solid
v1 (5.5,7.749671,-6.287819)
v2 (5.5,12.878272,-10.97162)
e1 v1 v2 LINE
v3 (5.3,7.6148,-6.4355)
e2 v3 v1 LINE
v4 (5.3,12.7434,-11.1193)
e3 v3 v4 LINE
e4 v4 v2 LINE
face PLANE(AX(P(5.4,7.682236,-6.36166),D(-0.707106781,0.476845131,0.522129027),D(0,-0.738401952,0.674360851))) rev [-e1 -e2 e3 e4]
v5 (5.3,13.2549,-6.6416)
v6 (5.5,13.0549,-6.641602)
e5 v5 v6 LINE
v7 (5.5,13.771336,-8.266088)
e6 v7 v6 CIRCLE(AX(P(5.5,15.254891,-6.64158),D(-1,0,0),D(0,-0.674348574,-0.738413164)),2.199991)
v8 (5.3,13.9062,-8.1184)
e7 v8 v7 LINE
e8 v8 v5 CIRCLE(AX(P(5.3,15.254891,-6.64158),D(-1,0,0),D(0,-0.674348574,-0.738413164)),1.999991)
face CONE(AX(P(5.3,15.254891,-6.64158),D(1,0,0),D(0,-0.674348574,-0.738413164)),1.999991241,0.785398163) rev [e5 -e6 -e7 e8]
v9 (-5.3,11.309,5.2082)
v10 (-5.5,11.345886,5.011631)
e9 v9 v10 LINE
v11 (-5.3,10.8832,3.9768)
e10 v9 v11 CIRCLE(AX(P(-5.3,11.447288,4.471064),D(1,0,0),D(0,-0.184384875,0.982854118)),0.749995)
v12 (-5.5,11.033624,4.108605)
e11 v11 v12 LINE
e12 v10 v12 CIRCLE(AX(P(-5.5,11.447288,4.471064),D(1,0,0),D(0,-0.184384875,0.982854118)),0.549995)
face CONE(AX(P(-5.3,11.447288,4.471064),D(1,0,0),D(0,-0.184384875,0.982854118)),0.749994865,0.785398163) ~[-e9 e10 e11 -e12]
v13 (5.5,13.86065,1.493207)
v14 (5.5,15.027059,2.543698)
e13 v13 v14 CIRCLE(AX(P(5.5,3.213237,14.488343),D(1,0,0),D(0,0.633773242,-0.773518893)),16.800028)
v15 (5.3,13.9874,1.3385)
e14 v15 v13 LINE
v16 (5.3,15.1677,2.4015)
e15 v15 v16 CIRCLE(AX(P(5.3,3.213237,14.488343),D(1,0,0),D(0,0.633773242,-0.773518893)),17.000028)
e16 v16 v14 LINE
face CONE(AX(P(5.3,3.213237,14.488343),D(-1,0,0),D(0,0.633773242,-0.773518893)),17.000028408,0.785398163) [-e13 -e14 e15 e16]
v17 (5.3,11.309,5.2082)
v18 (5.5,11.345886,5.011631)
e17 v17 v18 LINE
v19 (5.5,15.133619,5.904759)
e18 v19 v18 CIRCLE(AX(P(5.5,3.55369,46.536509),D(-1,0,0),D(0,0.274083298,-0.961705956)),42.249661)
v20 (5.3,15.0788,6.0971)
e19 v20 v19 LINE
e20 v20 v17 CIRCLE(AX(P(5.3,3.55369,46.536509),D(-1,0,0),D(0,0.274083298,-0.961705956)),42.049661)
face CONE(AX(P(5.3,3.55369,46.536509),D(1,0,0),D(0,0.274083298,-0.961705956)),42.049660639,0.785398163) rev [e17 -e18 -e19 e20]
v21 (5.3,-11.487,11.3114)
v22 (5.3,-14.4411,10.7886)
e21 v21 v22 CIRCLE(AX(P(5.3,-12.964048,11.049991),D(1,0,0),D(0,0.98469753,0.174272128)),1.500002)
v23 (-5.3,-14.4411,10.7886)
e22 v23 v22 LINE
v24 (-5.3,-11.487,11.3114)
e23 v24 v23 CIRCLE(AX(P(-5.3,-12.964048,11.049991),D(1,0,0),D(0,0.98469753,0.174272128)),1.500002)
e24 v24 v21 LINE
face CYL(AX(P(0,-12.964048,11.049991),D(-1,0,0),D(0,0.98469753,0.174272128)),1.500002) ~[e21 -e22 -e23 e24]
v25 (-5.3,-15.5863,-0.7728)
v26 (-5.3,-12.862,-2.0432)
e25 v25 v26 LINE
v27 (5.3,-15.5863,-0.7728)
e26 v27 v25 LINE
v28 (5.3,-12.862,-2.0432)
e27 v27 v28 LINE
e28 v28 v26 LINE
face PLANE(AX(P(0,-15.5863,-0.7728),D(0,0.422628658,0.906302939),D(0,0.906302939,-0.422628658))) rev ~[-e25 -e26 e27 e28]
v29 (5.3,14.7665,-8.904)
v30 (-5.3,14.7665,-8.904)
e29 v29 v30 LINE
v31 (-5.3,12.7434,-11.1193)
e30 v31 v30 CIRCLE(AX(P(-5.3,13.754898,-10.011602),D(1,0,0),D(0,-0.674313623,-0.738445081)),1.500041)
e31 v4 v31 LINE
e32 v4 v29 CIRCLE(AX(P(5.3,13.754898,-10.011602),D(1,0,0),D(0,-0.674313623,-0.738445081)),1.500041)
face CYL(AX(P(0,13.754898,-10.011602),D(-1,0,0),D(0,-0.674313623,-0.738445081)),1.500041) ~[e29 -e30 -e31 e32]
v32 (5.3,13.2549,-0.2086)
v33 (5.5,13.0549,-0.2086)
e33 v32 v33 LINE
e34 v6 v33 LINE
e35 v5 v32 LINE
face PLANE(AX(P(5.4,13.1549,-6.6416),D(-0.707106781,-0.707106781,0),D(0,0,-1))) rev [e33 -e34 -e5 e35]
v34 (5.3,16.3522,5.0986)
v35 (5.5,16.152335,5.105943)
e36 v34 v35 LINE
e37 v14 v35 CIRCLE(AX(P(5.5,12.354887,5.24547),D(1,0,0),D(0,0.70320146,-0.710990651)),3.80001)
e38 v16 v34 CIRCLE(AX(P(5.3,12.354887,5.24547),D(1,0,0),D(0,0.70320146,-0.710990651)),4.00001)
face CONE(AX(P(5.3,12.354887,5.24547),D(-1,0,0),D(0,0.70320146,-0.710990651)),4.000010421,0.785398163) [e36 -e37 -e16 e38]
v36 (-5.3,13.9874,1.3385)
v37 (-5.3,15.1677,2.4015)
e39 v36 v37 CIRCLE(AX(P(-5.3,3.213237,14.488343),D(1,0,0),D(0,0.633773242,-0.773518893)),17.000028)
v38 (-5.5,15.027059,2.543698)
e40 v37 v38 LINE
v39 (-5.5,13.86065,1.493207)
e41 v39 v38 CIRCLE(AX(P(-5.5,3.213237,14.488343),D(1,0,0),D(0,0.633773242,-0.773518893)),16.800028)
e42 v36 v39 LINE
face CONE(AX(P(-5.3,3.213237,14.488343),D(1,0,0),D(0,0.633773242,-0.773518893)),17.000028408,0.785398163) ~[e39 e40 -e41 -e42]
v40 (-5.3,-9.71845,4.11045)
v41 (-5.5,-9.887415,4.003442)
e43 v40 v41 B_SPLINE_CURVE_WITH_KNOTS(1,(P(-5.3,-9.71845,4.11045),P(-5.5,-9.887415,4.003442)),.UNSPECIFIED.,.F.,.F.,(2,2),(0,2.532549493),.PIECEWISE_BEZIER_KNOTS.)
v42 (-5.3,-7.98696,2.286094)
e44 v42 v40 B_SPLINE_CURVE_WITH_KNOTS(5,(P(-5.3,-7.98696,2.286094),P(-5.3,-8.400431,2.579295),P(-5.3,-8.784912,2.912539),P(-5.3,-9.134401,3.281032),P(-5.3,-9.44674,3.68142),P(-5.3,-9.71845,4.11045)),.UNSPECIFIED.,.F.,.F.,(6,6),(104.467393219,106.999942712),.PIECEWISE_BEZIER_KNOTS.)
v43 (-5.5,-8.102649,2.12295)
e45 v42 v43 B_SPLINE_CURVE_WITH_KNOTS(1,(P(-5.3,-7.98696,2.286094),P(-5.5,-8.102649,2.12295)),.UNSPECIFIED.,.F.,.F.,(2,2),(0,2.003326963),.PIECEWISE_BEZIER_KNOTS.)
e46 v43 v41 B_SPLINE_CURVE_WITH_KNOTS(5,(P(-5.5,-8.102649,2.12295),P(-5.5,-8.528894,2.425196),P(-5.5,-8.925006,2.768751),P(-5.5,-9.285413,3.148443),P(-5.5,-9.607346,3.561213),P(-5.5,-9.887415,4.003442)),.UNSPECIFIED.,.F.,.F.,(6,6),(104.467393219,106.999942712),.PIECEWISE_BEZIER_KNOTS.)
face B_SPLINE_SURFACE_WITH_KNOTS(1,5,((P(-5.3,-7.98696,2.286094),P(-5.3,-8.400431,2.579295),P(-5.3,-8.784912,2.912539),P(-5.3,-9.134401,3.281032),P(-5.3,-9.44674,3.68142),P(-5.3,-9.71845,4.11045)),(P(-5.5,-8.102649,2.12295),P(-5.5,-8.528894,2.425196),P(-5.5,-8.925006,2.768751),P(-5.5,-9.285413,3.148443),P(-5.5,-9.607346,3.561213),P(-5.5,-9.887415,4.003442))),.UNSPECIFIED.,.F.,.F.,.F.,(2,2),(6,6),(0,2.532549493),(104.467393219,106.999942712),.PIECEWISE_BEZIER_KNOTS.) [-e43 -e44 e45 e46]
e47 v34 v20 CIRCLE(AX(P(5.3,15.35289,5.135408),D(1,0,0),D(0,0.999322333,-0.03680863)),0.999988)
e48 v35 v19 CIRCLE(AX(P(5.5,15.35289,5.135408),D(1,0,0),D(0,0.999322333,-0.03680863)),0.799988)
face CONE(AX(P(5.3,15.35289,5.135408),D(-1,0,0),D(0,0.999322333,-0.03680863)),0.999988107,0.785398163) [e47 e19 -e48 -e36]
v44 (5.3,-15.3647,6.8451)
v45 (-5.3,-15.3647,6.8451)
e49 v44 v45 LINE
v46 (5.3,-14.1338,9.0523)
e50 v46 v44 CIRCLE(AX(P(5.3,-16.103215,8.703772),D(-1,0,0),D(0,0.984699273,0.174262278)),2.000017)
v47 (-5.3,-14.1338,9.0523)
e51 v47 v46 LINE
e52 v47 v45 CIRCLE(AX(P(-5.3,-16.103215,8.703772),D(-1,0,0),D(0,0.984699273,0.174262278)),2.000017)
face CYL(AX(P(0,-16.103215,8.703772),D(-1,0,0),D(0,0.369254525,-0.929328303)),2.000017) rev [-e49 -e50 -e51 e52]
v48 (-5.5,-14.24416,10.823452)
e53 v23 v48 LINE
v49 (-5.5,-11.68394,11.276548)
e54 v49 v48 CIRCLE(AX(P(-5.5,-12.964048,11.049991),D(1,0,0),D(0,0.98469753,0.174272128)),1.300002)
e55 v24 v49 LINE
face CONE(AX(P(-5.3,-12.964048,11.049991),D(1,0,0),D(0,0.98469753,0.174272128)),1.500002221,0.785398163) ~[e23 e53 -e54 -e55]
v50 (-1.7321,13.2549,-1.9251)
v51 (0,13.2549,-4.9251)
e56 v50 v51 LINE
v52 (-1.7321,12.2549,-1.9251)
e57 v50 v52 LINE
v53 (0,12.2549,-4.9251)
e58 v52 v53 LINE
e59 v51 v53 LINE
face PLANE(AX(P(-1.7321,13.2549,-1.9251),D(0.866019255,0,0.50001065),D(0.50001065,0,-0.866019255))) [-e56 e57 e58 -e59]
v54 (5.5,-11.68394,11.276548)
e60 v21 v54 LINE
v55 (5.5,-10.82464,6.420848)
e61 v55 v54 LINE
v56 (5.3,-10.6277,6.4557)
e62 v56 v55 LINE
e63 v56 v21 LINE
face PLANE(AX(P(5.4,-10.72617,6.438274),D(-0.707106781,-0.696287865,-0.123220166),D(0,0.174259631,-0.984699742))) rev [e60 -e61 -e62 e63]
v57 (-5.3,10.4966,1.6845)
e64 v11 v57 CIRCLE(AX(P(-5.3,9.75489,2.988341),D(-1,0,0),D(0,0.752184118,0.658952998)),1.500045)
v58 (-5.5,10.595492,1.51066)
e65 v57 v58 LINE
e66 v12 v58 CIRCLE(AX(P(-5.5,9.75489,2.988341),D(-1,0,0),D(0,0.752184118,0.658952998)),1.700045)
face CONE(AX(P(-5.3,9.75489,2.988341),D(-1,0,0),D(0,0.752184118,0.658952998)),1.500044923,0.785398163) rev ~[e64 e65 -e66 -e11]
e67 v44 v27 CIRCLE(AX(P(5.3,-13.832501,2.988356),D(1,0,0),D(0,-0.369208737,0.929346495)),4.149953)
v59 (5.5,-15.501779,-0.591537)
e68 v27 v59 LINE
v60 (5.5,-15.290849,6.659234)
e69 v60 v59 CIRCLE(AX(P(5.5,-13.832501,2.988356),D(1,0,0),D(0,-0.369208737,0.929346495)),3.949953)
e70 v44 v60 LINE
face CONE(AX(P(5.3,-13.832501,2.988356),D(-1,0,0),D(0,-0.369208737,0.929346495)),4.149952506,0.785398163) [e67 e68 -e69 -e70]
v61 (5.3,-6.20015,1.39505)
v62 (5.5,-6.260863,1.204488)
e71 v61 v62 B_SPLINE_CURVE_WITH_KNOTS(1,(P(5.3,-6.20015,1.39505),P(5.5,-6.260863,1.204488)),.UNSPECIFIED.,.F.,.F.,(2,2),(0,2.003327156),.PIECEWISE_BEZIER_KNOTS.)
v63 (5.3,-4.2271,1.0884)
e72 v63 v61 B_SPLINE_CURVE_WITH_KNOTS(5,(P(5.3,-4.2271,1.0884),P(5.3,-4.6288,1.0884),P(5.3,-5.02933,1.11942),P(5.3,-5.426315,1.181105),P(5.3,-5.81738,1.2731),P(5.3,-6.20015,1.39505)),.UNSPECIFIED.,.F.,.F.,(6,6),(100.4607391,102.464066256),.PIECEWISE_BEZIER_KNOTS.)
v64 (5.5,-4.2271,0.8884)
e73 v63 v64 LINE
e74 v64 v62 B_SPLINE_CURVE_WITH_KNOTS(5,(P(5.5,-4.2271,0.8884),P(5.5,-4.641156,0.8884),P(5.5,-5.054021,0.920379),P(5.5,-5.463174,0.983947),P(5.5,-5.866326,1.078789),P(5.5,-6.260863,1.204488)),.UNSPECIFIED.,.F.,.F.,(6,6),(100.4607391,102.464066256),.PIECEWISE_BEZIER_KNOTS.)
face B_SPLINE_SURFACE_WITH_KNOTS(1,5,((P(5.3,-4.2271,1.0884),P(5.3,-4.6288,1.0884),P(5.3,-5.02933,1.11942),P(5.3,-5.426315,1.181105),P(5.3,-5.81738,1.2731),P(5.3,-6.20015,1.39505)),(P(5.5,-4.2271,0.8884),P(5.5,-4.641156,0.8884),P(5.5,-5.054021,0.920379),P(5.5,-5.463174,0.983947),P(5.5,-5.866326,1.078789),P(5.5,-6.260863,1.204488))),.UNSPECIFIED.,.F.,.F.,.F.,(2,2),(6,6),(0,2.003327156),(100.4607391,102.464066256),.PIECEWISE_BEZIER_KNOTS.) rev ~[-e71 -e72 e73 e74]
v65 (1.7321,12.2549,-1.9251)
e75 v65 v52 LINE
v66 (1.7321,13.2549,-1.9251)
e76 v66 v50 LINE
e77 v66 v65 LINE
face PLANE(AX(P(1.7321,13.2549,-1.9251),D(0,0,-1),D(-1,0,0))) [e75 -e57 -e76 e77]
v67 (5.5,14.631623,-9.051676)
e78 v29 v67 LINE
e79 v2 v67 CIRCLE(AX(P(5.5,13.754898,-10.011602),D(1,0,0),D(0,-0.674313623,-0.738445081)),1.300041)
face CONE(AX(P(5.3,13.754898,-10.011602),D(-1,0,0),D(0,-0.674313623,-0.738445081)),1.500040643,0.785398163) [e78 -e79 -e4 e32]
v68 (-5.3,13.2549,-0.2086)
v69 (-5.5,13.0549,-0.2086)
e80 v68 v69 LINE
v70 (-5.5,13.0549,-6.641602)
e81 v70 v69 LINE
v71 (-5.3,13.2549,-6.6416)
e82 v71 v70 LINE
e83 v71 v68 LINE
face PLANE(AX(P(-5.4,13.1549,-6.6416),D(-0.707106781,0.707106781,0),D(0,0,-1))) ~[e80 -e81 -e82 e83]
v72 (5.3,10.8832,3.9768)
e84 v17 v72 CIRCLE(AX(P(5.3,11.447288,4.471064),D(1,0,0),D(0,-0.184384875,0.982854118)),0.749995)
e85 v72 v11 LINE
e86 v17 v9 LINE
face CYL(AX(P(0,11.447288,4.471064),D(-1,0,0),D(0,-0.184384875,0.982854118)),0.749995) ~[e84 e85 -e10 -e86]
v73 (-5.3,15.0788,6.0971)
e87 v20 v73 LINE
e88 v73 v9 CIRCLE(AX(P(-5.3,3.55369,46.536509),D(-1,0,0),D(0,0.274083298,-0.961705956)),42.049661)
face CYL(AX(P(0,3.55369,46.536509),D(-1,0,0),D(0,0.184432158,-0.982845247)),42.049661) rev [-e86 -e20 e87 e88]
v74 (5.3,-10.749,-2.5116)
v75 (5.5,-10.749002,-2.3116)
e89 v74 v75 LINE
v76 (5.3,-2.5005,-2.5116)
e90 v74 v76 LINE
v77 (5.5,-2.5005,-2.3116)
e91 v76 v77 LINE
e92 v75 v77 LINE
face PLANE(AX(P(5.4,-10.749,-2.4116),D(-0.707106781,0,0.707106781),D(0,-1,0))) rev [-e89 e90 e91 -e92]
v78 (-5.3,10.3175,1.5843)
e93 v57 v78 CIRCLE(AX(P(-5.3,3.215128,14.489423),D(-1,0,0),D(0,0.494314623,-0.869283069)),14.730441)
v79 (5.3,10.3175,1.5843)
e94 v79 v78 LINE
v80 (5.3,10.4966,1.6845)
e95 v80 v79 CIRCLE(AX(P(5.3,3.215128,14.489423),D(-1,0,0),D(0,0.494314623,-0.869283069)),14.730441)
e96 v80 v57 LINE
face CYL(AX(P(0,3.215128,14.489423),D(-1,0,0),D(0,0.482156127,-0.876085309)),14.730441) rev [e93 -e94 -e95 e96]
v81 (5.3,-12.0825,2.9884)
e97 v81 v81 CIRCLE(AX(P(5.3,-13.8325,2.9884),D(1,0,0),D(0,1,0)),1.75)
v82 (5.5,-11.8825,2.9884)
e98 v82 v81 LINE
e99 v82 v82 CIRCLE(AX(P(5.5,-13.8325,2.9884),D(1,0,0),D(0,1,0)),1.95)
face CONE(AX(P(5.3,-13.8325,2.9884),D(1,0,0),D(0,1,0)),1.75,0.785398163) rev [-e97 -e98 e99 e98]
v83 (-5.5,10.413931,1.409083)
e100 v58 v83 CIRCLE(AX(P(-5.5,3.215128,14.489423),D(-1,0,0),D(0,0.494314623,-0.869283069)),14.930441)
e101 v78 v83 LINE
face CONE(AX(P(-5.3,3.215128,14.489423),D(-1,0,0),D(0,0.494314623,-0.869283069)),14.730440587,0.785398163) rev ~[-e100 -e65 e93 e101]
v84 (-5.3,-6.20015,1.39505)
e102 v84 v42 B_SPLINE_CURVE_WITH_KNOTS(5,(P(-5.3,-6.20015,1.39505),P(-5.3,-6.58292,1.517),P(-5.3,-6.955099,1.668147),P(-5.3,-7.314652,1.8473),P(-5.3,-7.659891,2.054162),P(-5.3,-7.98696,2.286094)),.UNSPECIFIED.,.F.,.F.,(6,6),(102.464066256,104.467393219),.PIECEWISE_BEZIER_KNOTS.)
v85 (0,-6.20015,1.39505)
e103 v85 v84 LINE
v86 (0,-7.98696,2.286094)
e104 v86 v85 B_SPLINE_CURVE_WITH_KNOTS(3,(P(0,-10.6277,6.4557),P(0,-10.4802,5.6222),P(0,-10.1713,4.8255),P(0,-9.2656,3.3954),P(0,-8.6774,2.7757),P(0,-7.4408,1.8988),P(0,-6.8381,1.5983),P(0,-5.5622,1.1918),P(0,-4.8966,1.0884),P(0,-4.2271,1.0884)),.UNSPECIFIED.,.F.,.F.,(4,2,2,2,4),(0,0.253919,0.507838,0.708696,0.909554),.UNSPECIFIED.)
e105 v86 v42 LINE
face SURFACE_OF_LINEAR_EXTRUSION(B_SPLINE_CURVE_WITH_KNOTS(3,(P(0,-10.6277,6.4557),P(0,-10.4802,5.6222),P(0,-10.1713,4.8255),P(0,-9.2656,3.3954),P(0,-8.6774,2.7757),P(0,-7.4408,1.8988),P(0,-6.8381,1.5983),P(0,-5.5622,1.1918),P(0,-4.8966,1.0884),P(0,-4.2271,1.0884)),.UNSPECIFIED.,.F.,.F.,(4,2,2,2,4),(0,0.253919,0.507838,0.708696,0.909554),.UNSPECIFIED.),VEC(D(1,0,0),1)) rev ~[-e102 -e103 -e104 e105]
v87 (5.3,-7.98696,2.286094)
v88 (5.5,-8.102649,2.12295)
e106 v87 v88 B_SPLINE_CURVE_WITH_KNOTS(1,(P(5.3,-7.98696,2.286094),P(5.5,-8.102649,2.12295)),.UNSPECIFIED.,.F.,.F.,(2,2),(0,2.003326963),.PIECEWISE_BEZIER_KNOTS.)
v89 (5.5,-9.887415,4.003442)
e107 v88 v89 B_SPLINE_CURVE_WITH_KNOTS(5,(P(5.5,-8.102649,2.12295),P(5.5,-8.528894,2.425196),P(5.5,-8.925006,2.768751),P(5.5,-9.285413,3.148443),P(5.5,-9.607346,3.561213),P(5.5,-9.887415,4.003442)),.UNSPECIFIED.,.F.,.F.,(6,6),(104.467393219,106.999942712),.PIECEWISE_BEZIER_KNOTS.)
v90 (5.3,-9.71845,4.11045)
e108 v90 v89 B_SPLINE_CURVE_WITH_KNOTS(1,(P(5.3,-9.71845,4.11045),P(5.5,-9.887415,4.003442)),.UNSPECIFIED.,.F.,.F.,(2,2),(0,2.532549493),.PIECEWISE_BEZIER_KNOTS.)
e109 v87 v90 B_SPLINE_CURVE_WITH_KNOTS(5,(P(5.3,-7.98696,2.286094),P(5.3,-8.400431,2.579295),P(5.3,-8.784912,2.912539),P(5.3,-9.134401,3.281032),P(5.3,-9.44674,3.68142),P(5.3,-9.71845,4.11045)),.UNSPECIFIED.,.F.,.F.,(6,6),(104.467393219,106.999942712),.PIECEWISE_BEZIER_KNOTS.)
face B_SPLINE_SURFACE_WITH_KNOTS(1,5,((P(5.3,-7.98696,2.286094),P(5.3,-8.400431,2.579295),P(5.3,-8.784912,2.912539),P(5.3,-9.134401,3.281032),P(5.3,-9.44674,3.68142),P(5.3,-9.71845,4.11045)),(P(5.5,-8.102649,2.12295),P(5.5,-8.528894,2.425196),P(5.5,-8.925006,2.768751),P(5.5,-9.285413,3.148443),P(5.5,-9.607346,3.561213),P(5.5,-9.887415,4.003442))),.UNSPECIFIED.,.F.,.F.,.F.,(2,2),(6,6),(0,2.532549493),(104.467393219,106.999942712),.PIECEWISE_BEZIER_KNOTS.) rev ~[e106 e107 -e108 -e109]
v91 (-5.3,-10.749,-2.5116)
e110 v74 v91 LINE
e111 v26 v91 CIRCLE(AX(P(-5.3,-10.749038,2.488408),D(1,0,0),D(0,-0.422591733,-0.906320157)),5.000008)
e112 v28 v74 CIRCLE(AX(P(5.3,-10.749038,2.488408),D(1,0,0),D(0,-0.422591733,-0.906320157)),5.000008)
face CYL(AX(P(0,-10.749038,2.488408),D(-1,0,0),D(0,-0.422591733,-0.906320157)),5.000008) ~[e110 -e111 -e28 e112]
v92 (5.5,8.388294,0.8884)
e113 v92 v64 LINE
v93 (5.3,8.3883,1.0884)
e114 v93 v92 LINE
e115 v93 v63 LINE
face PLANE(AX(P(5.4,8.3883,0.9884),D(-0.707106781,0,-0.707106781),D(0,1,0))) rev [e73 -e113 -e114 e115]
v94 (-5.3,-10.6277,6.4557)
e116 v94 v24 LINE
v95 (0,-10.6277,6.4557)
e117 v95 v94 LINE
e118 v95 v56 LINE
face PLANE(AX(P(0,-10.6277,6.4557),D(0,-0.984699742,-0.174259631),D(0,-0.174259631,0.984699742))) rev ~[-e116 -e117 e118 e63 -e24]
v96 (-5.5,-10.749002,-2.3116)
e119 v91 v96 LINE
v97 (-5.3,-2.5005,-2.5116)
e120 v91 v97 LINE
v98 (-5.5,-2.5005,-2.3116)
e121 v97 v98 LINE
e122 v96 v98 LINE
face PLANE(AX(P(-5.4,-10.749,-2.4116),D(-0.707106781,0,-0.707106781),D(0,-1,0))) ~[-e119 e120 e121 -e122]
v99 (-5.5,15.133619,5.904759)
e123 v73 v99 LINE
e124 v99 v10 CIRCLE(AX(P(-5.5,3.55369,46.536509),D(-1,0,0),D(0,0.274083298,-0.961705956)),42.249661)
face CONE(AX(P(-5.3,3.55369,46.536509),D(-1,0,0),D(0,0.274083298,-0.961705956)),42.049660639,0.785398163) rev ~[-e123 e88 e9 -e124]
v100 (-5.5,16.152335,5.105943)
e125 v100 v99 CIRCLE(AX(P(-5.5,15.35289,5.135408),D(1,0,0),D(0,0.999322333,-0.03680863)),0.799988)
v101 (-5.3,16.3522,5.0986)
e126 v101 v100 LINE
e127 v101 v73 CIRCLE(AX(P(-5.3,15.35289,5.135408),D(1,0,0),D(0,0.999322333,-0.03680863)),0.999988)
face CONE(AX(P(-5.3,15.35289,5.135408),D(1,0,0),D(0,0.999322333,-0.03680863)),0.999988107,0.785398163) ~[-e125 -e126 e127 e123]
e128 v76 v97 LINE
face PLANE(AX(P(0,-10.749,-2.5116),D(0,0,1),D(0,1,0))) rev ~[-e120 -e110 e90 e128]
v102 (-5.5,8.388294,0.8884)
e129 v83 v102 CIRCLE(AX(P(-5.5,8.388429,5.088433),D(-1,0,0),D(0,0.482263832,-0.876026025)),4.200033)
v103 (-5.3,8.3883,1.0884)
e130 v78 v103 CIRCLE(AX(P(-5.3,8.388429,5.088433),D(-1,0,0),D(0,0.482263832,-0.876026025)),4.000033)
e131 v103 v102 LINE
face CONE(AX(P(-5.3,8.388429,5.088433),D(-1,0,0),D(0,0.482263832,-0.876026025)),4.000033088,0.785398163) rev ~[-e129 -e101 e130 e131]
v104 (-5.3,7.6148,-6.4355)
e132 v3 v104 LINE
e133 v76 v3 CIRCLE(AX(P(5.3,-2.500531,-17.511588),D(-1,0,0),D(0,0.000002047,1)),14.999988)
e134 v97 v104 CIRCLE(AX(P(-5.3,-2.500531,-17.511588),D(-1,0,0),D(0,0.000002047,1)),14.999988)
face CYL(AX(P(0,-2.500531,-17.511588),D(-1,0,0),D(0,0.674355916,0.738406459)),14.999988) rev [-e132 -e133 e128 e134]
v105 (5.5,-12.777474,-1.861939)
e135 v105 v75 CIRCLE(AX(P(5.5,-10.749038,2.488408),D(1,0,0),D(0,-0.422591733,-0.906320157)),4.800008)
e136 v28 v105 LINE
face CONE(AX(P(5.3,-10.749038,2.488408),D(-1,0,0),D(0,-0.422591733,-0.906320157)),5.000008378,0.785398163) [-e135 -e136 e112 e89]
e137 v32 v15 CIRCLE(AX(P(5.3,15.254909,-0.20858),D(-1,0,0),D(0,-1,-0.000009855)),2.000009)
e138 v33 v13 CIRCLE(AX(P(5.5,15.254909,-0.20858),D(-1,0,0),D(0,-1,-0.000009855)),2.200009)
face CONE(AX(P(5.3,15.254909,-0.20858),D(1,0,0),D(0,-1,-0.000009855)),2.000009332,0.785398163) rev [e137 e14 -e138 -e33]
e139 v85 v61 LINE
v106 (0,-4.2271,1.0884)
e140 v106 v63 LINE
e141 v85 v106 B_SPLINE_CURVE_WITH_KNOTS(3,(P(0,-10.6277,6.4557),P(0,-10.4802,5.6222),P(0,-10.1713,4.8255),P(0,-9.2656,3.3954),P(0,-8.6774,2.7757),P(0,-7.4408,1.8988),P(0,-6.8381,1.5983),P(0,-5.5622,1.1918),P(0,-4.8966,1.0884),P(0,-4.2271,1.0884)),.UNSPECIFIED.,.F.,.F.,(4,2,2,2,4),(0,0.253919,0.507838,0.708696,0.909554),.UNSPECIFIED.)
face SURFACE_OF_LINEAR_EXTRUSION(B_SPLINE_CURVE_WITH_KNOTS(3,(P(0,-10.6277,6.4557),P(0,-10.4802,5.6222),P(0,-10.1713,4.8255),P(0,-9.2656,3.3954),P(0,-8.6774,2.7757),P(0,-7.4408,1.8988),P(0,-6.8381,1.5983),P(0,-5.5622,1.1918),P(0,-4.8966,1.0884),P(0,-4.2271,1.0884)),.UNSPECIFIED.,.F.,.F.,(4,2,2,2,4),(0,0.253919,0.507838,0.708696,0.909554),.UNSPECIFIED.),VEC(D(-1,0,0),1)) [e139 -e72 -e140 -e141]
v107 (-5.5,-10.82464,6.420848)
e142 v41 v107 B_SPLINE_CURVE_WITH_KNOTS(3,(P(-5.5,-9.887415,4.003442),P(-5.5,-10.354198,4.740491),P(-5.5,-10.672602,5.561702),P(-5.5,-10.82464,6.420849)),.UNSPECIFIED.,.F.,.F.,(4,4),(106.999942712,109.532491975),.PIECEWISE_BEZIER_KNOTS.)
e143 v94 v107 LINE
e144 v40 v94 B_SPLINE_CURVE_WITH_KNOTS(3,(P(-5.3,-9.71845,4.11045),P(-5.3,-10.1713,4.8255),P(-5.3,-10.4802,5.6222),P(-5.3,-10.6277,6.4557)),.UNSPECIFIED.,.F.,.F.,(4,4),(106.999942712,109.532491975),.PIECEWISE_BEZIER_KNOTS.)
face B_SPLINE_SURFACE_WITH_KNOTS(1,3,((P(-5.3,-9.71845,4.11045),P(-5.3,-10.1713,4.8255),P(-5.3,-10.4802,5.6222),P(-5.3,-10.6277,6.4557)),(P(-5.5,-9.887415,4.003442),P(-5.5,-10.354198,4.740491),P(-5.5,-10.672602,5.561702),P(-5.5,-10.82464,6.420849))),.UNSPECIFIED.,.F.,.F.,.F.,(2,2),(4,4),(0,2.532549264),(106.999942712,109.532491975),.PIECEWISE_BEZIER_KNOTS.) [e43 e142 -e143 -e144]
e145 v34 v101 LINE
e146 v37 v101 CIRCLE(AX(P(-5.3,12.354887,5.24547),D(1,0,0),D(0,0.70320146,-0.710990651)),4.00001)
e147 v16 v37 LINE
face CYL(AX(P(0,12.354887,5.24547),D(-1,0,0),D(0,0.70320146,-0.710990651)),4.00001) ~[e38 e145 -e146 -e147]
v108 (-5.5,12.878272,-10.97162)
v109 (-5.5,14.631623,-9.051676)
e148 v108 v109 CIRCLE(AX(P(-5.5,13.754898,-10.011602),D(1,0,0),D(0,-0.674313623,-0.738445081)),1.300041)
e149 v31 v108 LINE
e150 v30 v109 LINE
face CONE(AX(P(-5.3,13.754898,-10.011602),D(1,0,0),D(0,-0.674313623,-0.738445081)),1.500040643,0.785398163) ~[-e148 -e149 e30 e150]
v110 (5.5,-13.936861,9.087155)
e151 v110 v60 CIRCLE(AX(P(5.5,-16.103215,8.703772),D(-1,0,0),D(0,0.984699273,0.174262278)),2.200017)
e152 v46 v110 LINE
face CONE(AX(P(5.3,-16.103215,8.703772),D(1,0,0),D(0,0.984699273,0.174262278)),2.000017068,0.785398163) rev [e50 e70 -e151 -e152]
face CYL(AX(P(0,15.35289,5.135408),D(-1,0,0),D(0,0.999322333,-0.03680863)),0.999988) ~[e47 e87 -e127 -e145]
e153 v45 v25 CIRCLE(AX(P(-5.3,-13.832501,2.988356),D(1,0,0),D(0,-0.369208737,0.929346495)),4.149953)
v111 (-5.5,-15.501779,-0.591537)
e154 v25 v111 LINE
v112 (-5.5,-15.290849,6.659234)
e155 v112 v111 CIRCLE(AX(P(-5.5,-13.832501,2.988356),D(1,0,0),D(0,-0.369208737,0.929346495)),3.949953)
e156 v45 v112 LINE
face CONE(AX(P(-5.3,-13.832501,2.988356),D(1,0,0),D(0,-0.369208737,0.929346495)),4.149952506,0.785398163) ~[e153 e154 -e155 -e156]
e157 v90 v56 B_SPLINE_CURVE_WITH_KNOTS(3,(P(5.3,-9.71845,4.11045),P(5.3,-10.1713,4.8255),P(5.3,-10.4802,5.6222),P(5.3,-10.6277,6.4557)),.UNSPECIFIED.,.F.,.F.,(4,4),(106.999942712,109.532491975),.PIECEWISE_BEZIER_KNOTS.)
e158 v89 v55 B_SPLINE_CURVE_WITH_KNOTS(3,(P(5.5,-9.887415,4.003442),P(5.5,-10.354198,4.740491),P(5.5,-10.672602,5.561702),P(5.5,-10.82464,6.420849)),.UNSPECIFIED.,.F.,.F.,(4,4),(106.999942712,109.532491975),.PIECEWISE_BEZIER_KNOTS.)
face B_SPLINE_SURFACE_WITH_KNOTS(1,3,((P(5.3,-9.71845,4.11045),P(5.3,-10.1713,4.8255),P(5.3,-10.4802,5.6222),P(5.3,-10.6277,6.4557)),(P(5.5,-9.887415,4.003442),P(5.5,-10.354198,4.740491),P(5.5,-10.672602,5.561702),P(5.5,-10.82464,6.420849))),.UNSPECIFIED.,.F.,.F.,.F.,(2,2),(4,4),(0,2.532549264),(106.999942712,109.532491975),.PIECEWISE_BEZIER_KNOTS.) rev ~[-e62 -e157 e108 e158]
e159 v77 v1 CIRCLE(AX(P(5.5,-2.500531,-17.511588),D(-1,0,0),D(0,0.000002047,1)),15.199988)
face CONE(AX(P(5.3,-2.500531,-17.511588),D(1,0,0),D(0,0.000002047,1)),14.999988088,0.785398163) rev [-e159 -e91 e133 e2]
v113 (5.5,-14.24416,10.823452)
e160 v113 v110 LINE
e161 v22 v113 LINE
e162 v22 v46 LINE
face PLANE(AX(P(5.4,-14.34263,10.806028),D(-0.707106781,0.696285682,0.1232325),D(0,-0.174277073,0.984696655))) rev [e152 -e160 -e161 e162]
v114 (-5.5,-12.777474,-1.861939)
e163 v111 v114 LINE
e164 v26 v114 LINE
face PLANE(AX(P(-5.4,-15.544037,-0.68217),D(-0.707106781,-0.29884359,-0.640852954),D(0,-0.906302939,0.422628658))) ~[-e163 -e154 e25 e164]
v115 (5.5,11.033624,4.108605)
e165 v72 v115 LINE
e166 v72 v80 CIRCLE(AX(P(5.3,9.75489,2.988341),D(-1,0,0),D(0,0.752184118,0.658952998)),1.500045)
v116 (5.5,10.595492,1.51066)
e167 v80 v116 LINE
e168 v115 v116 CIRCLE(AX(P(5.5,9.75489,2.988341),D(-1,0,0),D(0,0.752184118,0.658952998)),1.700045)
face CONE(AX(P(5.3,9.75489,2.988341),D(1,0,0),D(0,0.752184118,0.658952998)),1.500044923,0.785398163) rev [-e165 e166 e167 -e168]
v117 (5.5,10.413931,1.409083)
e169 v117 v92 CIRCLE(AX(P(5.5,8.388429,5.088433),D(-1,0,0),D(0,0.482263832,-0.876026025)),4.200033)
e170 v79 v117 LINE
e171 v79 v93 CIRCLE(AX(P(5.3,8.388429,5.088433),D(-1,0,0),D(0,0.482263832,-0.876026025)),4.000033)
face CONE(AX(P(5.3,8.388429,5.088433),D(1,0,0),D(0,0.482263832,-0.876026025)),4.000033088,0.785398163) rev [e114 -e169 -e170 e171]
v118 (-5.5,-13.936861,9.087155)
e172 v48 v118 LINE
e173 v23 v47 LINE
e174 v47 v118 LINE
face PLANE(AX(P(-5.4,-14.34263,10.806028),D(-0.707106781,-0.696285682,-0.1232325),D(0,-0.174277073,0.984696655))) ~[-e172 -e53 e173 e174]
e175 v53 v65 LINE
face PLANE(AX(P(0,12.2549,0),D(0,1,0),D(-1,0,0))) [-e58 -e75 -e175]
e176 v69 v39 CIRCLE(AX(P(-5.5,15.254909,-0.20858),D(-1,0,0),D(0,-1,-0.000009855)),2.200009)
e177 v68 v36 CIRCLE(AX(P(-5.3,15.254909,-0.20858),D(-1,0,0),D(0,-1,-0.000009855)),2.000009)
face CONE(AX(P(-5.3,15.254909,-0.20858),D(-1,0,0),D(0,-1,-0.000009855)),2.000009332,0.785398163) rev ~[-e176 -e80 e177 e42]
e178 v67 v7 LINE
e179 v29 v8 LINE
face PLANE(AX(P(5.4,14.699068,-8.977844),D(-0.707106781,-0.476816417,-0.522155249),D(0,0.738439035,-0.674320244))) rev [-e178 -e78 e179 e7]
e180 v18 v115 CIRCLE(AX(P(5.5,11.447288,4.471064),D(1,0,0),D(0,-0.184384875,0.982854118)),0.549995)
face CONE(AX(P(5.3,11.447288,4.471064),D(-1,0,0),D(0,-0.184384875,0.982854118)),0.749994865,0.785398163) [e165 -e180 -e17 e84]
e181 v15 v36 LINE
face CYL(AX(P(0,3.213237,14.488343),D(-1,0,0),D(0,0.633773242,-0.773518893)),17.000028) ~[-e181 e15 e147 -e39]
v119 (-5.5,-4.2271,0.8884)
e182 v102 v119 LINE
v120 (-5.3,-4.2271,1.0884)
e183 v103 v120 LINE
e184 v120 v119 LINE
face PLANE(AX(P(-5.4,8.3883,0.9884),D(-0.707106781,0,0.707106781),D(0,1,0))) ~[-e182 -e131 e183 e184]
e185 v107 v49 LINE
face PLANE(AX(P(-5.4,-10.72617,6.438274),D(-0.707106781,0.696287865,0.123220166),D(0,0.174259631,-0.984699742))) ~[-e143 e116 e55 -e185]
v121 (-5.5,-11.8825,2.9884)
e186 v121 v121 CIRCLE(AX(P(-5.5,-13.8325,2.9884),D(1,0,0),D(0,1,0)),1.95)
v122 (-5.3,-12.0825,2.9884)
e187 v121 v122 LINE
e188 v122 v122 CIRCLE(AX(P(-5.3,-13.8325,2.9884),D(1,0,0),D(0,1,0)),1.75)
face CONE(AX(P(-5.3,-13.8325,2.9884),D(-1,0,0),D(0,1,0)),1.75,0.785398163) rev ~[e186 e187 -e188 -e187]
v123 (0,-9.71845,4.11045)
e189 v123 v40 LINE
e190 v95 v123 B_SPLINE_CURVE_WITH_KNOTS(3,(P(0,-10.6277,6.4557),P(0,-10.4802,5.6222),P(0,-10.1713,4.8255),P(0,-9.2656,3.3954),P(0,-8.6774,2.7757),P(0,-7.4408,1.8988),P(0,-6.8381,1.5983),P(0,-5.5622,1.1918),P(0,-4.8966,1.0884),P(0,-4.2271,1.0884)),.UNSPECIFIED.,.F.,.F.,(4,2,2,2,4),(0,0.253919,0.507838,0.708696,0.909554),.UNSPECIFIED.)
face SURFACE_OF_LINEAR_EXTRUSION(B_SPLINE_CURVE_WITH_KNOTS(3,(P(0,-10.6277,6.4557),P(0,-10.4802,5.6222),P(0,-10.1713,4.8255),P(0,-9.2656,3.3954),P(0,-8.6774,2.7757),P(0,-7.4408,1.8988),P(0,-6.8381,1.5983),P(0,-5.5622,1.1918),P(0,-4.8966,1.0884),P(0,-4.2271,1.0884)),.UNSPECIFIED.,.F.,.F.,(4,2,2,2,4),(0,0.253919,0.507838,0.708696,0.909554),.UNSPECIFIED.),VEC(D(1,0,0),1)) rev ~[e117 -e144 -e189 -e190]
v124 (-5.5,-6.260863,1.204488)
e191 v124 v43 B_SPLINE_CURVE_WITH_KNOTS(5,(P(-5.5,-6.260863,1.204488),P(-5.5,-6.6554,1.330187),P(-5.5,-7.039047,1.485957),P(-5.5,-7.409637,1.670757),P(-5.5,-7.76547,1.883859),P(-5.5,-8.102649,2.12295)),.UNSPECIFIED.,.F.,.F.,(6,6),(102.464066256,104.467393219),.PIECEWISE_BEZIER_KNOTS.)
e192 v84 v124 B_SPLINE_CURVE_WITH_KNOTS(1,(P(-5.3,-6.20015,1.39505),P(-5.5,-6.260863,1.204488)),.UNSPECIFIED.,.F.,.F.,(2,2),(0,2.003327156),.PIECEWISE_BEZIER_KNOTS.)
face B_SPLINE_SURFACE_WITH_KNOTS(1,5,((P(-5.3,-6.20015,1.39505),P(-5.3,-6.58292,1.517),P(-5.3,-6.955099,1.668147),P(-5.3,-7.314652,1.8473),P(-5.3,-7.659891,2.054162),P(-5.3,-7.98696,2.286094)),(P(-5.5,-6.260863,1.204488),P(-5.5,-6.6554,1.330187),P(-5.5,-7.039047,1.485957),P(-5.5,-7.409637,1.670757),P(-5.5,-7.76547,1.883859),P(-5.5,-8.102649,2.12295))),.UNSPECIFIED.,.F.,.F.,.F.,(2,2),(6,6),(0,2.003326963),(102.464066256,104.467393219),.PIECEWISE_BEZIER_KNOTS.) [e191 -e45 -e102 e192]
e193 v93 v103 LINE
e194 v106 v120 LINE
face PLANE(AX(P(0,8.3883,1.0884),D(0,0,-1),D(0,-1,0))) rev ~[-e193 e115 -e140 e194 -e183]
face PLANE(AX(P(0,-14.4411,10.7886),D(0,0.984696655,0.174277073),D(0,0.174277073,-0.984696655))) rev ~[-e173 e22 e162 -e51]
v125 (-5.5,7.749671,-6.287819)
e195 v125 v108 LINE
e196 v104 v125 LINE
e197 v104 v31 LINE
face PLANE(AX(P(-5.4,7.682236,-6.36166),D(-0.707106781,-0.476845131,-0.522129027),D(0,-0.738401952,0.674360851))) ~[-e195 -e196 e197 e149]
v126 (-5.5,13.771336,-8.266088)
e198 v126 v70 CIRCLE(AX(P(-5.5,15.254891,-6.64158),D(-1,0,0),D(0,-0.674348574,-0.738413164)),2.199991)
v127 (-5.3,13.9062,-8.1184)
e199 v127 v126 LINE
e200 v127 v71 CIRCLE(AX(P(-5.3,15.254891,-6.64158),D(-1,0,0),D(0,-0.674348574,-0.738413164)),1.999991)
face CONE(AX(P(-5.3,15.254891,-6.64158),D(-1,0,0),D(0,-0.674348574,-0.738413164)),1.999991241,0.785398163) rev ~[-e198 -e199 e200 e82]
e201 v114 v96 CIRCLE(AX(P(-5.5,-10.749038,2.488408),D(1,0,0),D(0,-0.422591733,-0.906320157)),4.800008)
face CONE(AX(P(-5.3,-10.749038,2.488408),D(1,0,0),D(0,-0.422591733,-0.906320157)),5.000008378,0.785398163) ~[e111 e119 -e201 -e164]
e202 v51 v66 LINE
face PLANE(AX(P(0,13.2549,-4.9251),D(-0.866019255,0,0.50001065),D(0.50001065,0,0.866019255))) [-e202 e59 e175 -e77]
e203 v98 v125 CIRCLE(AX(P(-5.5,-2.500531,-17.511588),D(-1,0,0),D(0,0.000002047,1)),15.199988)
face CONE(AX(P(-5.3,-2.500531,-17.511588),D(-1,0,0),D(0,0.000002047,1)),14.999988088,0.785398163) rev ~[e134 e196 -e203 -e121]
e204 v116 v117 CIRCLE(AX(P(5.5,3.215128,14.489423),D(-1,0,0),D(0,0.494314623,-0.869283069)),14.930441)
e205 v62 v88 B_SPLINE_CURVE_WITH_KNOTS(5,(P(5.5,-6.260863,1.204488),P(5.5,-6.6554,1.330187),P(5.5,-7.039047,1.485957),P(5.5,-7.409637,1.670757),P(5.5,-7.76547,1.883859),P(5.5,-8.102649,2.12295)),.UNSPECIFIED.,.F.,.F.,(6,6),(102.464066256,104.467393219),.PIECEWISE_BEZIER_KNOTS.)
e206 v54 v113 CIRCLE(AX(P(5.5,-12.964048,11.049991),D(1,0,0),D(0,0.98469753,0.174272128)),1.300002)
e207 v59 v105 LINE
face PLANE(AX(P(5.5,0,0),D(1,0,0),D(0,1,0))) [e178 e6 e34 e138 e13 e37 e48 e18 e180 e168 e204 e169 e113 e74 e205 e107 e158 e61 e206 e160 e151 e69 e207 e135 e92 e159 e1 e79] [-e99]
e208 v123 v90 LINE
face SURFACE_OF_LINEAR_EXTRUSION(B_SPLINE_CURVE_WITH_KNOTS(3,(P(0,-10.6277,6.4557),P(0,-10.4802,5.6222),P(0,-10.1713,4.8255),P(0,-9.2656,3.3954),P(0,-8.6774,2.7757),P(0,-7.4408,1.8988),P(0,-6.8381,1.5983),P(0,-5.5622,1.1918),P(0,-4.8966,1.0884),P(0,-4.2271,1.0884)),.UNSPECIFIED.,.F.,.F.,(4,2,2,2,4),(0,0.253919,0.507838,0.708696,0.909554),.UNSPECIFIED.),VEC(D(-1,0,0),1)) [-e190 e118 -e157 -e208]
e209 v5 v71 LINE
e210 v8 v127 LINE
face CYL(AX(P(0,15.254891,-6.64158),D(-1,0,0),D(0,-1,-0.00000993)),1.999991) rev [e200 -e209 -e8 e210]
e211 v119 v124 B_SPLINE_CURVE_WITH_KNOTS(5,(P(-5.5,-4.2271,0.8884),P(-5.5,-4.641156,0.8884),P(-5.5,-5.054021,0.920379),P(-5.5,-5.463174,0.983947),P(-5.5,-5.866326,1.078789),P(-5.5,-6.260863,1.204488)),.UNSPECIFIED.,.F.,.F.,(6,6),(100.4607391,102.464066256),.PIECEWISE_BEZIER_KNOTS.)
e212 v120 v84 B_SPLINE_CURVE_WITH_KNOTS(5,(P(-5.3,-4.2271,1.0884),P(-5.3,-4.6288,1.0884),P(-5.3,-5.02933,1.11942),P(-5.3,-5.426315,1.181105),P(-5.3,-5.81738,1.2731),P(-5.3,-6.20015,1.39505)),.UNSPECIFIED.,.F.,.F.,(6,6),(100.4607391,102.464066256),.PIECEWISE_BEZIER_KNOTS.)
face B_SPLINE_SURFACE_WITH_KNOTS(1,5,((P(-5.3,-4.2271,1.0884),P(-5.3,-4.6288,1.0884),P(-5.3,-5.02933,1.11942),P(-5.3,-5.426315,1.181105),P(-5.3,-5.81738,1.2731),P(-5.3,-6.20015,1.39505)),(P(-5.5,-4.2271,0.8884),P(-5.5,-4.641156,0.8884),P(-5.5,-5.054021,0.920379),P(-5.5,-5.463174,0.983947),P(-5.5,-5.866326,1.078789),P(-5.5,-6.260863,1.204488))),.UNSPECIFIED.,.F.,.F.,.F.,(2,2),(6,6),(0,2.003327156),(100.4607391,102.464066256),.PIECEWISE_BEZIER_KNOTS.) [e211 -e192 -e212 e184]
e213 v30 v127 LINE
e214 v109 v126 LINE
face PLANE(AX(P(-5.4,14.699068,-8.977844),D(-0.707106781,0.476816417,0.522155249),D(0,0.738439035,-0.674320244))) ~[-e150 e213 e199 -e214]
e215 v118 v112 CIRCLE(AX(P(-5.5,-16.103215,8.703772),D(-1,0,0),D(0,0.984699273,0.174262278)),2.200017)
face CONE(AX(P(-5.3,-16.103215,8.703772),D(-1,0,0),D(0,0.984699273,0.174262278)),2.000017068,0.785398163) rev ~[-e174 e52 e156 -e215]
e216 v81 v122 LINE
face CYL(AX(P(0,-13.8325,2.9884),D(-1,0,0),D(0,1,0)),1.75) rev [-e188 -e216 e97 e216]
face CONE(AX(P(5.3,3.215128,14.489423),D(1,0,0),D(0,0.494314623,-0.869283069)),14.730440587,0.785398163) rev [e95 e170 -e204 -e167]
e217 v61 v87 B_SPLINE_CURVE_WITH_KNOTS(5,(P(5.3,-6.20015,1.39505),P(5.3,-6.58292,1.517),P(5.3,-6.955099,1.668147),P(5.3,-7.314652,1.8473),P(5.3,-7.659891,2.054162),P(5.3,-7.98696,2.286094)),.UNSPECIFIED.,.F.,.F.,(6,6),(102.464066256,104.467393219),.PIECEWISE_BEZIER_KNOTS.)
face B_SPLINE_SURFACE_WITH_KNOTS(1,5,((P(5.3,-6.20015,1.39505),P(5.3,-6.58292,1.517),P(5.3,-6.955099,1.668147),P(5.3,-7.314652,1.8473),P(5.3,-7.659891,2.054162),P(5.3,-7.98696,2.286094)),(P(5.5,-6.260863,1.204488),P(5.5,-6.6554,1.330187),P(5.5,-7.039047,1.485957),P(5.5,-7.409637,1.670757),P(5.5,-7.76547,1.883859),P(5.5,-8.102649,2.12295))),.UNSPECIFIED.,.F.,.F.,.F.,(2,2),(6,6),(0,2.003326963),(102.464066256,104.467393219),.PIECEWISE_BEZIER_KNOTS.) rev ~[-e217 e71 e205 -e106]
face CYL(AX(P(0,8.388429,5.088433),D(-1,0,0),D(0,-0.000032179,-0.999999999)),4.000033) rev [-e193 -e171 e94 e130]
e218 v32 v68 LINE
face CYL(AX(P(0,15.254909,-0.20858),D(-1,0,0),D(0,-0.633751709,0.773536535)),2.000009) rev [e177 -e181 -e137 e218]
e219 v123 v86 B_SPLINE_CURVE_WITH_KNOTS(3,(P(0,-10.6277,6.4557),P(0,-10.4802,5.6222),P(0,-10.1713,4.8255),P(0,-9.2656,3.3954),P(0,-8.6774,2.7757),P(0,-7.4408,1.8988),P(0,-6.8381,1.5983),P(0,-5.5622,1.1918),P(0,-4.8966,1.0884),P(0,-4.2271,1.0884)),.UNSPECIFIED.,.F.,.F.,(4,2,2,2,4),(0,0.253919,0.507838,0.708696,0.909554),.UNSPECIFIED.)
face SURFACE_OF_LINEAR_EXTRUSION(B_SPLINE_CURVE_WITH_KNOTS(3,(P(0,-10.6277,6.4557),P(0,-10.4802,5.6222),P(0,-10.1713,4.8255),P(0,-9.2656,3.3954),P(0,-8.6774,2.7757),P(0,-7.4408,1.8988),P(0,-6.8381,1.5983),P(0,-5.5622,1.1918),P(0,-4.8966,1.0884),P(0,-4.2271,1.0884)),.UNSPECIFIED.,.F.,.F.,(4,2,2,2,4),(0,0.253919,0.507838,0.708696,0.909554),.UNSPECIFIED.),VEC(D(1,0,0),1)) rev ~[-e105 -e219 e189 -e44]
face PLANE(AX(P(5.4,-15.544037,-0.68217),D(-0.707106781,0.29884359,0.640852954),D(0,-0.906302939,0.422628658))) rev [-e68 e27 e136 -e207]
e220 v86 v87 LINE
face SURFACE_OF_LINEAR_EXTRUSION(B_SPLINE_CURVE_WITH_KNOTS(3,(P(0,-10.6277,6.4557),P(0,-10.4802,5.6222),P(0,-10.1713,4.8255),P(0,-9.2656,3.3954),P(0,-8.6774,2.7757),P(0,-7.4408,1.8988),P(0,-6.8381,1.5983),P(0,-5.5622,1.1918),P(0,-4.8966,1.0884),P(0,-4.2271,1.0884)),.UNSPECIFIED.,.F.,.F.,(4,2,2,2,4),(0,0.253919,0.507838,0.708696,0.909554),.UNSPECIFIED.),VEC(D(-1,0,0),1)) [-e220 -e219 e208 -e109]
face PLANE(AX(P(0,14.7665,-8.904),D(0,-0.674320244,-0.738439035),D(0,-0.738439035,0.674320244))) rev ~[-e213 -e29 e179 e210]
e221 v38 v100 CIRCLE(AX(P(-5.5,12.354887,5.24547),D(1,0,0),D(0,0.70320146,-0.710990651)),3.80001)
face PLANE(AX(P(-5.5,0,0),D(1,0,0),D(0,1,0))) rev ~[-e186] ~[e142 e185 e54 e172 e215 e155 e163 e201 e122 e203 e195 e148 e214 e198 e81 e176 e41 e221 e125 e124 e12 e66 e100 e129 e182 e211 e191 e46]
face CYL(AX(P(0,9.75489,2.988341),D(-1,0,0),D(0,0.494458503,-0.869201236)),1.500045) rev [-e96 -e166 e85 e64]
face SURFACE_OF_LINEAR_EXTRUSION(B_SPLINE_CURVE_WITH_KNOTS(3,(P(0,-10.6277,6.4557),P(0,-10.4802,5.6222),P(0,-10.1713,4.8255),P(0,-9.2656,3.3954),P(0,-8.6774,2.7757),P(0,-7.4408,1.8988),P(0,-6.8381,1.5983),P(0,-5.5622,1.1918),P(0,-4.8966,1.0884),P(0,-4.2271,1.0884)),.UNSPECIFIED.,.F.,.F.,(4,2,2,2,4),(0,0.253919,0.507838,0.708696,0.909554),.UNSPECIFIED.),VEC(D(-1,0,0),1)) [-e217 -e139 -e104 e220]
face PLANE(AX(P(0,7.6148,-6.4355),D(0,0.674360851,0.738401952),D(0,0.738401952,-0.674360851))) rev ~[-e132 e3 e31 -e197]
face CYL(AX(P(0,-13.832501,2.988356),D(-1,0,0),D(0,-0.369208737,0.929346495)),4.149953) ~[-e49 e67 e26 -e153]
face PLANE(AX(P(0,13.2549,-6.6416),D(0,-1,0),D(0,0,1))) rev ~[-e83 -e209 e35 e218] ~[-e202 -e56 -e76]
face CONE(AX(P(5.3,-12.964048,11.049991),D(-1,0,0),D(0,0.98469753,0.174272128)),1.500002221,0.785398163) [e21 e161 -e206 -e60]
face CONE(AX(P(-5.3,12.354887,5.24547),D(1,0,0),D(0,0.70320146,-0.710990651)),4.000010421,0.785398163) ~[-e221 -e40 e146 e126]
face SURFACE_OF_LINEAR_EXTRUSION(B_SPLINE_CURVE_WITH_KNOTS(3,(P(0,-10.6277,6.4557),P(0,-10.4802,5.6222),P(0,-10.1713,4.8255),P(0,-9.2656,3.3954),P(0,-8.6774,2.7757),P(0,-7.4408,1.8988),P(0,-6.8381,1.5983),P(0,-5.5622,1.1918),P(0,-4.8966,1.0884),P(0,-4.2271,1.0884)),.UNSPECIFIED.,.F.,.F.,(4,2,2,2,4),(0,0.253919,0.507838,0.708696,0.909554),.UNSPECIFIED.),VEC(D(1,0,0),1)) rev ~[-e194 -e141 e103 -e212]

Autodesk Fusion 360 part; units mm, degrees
sketch "Sketch1" plane through (0, 0, 0) normal (1, 0, 0) x (0, 1, 0) in component "[a]_latch"
  spline S0 degree 3 poles (-10.6277, 6.4557) (-10.4802, 5.6222) (-10.1713, 4.8255) (-9.2656, 3.3954) (-8.6774, 2.7757) (-7.4408, 1.8988) (-6.8381, 1.5983) (-5.5622, 1.1918) (-4.8966, 1.0884) (-4.2271, 1.0884) knots 0 0 0 0 0.253919 0.253919 0.507838 0.507838 0.708696 0.708696 0.909554 0.909554 0.909554 0.909554
  line L0 (-10.6277, 6.4557) -> (-10.4802, 5.6222)
  line L1 (-10.4802, 5.6222) -> (-10.1713, 4.8255)
  line L2 (-10.1713, 4.8255) -> (-9.2656, 3.3954)
  line L3 (-9.2656, 3.3954) -> (-8.6774, 2.7757)
  line L4 (-8.6774, 2.7757) -> (-7.4408, 1.8988)
  line L5 (-7.4408, 1.8988) -> (-6.8381, 1.5983)
  line L6 (-6.8381, 1.5983) -> (-5.5622, 1.1918)
  line L7 (-5.5622, 1.1918) -> (-4.8966, 1.0884)
  line L8 (-4.8966, 1.0884) -> (-4.2271, 1.0884)
  line L9 (-10.6277, 6.4557) -> (-11.487, 11.3114)
  arc A0 (-11.487, 11.3114) -> (-14.4411, 10.7886) centre (-12.964, 11.05) ccw
  line L10 (-14.4411, 10.7886) -> (-14.1338, 9.0523)
  arc A1 (-15.3647, 6.8451) -> (-14.1338, 9.0523) centre (-16.1032, 8.7038) ccw
  arc A2 (-15.3647, 6.8451) -> (-15.5863, -0.7728) centre (-13.8325, 2.9884) ccw
  line L11 (-15.5863, -0.7728) -> (-12.862, -2.0432)
  arc A3 (-12.862, -2.0432) -> (-10.749, -2.5116) centre (-10.749, 2.4884) ccw
  line L12 (-10.749, -2.5116) -> (-2.5005, -2.5116)
  arc A4 (7.6148, -6.4355) -> (-2.5005, -2.5116) centre (-2.5005, -17.5116) ccw
  line L13 (7.6148, -6.4355) -> (12.7434, -11.1193)
  arc A5 (12.7434, -11.1193) -> (14.7665, -8.904) centre (13.7549, -10.0116) ccw
  line L14 (14.7665, -8.904) -> (13.9062, -8.1184)
  arc A6 (13.2549, -6.6416) -> (13.9062, -8.1184) centre (15.2549, -6.6416) ccw
  line L15 (13.2549, -6.6416) -> (13.2549, -0.2086)
  arc A7 (13.9874, 1.3385) -> (13.2549, -0.2086) centre (15.2549, -0.2086) ccw
  arc A8 (13.9874, 1.3385) -> (15.1677, 2.4015) centre (3.2133, 14.4884) ccw
  arc A9 (15.1677, 2.4015) -> (16.3522, 5.0986) centre (12.3549, 5.2455) ccw
  arc A10 (16.3522, 5.0986) -> (15.0788, 6.0971) centre (15.3529, 5.1354) ccw
  arc A11 (11.309, 5.2082) -> (15.0788, 6.0971) centre (3.5545, 46.5367) ccw
  arc A12 (11.309, 5.2082) -> (10.8832, 3.9768) centre (11.4473, 4.4711) ccw
  arc A13 (10.4966, 1.6845) -> (10.8832, 3.9768) centre (9.7549, 2.9884) ccw
  arc A14 (8.3883, 1.0884) -> (10.3175, 1.5843) centre (8.3883, 5.0884) ccw
  arc A15 (10.3175, 1.5843) -> (10.4966, 1.6845) centre (3.2133, 14.4884) ccw
  line L16 (8.3883, 1.0884) -> (-4.2271, 1.0884)
  circle A16 centre (-13.8325, 2.9884) radius 1.75
extrude "Extrude1" add sketch "Sketch1" along normal mid plane 11 in component "[a]_latch"
chamfer "Chamfer1" distance 0.2 angle 45 52 edges at (5.5, -11.0573, 8.8835) (5.5, -13.2254, 12.527) (5.5, -14.2874, 9.9204) (5.5, -14.3565, 7.7296) (5.5, -17.9807, 3.109) (5.5, -14.2242, -1.408) (5.5, -11.8312, -2.3931) (5.5, -6.6247, -2.5116) (5.5, 2.9244, -3.527) (5.5, 10.1791, -8.7774) (5.5, 14.8625, -11.0232) (5.5, 14.3363, -8.5112) (5.5, 13.425, -7.4486) (5.5, 13.2549, -3.4251) (5.5, 13.4473, 0.6473) (5.5, 14.59, 1.8562) (5.5, 16.0173, 3.6371) (5.5, 15.9699, 5.9223) (5.5, 13.2041, 5.6092) (5.5, 10.7385, 4.7162) (5.5, 11.234, 2.7389) (5.5, 10.4072, 1.6341) (5.5, 9.3843, 1.2143) (5.5, 2.0806, 1.0884) (5.5, -8.4061, 2.6098) (5.5, -15.464, 3.6212) (-5.5, -11.0573, 8.8835) (-5.5, -8.4061, 2.6098) (-5.5, 2.0806, 1.0884) (-5.5, 9.3843, 1.2143) (-5.5, 10.4072, 1.6341) (-5.5, 11.234, 2.7389) (-5.5, 10.7385, 4.7162) (-5.5, 13.2041, 5.6092) (-5.5, 15.9699, 5.9223) (-5.5, 16.0173, 3.6371) (-5.5, 14.59, 1.8562) (-5.5, 13.4473, 0.6473) (-5.5, 13.2549, -3.4251) (-5.5, 13.425, -7.4486) (-5.5, 14.3363, -8.5112) (-5.5, 14.8625, -11.0232) (-5.5, 10.1791, -8.7774) (-5.5, 2.9244, -3.527) (-5.5, -6.6247, -2.5116) (-5.5, -11.8312, -2.3931) (-5.5, -14.2242, -1.408) (-5.5, -17.9807, 3.109) (-5.5, -14.3565, 7.7296) (-5.5, -14.2874, 9.9204) (-5.5, -13.2254, 12.527) (-5.5, -15.464, 2.3555) in component "[a]_latch"
sketch "Sketch2" plane through (0, 13.2549, 0) normal (0, 1, 0) x (-1, 0, 0) in component "[a]_latch"
  line L0 (5.3, -6.6416) -> (5.3, -0.2086)
  line L1 (5.3, -0.2086) -> (-5.3, -0.2086)
  line L2 (-5.3, -0.2086) -> (-5.3, -6.6416)
  line L3 (-5.3, -6.6416) -> (5.3, -6.6416)
  line L4 (-1.7321, -1.9251) -> (1.7321, -1.9251)
  line L5 (1.7321, -1.9251) -> (0, -4.9251)
  line L6 (0, -4.9251) -> (-1.7321, -1.9251)
extrude "Extrude2" cut sketch "Sketch2" against normal blind 1 contours L4 L5 L6 in component "[a]_latch"
component "[a]_latch" placed x (1, 0, 0) y (0, 1, 0) z (0, 0, 1) at (0, 0, 0)
